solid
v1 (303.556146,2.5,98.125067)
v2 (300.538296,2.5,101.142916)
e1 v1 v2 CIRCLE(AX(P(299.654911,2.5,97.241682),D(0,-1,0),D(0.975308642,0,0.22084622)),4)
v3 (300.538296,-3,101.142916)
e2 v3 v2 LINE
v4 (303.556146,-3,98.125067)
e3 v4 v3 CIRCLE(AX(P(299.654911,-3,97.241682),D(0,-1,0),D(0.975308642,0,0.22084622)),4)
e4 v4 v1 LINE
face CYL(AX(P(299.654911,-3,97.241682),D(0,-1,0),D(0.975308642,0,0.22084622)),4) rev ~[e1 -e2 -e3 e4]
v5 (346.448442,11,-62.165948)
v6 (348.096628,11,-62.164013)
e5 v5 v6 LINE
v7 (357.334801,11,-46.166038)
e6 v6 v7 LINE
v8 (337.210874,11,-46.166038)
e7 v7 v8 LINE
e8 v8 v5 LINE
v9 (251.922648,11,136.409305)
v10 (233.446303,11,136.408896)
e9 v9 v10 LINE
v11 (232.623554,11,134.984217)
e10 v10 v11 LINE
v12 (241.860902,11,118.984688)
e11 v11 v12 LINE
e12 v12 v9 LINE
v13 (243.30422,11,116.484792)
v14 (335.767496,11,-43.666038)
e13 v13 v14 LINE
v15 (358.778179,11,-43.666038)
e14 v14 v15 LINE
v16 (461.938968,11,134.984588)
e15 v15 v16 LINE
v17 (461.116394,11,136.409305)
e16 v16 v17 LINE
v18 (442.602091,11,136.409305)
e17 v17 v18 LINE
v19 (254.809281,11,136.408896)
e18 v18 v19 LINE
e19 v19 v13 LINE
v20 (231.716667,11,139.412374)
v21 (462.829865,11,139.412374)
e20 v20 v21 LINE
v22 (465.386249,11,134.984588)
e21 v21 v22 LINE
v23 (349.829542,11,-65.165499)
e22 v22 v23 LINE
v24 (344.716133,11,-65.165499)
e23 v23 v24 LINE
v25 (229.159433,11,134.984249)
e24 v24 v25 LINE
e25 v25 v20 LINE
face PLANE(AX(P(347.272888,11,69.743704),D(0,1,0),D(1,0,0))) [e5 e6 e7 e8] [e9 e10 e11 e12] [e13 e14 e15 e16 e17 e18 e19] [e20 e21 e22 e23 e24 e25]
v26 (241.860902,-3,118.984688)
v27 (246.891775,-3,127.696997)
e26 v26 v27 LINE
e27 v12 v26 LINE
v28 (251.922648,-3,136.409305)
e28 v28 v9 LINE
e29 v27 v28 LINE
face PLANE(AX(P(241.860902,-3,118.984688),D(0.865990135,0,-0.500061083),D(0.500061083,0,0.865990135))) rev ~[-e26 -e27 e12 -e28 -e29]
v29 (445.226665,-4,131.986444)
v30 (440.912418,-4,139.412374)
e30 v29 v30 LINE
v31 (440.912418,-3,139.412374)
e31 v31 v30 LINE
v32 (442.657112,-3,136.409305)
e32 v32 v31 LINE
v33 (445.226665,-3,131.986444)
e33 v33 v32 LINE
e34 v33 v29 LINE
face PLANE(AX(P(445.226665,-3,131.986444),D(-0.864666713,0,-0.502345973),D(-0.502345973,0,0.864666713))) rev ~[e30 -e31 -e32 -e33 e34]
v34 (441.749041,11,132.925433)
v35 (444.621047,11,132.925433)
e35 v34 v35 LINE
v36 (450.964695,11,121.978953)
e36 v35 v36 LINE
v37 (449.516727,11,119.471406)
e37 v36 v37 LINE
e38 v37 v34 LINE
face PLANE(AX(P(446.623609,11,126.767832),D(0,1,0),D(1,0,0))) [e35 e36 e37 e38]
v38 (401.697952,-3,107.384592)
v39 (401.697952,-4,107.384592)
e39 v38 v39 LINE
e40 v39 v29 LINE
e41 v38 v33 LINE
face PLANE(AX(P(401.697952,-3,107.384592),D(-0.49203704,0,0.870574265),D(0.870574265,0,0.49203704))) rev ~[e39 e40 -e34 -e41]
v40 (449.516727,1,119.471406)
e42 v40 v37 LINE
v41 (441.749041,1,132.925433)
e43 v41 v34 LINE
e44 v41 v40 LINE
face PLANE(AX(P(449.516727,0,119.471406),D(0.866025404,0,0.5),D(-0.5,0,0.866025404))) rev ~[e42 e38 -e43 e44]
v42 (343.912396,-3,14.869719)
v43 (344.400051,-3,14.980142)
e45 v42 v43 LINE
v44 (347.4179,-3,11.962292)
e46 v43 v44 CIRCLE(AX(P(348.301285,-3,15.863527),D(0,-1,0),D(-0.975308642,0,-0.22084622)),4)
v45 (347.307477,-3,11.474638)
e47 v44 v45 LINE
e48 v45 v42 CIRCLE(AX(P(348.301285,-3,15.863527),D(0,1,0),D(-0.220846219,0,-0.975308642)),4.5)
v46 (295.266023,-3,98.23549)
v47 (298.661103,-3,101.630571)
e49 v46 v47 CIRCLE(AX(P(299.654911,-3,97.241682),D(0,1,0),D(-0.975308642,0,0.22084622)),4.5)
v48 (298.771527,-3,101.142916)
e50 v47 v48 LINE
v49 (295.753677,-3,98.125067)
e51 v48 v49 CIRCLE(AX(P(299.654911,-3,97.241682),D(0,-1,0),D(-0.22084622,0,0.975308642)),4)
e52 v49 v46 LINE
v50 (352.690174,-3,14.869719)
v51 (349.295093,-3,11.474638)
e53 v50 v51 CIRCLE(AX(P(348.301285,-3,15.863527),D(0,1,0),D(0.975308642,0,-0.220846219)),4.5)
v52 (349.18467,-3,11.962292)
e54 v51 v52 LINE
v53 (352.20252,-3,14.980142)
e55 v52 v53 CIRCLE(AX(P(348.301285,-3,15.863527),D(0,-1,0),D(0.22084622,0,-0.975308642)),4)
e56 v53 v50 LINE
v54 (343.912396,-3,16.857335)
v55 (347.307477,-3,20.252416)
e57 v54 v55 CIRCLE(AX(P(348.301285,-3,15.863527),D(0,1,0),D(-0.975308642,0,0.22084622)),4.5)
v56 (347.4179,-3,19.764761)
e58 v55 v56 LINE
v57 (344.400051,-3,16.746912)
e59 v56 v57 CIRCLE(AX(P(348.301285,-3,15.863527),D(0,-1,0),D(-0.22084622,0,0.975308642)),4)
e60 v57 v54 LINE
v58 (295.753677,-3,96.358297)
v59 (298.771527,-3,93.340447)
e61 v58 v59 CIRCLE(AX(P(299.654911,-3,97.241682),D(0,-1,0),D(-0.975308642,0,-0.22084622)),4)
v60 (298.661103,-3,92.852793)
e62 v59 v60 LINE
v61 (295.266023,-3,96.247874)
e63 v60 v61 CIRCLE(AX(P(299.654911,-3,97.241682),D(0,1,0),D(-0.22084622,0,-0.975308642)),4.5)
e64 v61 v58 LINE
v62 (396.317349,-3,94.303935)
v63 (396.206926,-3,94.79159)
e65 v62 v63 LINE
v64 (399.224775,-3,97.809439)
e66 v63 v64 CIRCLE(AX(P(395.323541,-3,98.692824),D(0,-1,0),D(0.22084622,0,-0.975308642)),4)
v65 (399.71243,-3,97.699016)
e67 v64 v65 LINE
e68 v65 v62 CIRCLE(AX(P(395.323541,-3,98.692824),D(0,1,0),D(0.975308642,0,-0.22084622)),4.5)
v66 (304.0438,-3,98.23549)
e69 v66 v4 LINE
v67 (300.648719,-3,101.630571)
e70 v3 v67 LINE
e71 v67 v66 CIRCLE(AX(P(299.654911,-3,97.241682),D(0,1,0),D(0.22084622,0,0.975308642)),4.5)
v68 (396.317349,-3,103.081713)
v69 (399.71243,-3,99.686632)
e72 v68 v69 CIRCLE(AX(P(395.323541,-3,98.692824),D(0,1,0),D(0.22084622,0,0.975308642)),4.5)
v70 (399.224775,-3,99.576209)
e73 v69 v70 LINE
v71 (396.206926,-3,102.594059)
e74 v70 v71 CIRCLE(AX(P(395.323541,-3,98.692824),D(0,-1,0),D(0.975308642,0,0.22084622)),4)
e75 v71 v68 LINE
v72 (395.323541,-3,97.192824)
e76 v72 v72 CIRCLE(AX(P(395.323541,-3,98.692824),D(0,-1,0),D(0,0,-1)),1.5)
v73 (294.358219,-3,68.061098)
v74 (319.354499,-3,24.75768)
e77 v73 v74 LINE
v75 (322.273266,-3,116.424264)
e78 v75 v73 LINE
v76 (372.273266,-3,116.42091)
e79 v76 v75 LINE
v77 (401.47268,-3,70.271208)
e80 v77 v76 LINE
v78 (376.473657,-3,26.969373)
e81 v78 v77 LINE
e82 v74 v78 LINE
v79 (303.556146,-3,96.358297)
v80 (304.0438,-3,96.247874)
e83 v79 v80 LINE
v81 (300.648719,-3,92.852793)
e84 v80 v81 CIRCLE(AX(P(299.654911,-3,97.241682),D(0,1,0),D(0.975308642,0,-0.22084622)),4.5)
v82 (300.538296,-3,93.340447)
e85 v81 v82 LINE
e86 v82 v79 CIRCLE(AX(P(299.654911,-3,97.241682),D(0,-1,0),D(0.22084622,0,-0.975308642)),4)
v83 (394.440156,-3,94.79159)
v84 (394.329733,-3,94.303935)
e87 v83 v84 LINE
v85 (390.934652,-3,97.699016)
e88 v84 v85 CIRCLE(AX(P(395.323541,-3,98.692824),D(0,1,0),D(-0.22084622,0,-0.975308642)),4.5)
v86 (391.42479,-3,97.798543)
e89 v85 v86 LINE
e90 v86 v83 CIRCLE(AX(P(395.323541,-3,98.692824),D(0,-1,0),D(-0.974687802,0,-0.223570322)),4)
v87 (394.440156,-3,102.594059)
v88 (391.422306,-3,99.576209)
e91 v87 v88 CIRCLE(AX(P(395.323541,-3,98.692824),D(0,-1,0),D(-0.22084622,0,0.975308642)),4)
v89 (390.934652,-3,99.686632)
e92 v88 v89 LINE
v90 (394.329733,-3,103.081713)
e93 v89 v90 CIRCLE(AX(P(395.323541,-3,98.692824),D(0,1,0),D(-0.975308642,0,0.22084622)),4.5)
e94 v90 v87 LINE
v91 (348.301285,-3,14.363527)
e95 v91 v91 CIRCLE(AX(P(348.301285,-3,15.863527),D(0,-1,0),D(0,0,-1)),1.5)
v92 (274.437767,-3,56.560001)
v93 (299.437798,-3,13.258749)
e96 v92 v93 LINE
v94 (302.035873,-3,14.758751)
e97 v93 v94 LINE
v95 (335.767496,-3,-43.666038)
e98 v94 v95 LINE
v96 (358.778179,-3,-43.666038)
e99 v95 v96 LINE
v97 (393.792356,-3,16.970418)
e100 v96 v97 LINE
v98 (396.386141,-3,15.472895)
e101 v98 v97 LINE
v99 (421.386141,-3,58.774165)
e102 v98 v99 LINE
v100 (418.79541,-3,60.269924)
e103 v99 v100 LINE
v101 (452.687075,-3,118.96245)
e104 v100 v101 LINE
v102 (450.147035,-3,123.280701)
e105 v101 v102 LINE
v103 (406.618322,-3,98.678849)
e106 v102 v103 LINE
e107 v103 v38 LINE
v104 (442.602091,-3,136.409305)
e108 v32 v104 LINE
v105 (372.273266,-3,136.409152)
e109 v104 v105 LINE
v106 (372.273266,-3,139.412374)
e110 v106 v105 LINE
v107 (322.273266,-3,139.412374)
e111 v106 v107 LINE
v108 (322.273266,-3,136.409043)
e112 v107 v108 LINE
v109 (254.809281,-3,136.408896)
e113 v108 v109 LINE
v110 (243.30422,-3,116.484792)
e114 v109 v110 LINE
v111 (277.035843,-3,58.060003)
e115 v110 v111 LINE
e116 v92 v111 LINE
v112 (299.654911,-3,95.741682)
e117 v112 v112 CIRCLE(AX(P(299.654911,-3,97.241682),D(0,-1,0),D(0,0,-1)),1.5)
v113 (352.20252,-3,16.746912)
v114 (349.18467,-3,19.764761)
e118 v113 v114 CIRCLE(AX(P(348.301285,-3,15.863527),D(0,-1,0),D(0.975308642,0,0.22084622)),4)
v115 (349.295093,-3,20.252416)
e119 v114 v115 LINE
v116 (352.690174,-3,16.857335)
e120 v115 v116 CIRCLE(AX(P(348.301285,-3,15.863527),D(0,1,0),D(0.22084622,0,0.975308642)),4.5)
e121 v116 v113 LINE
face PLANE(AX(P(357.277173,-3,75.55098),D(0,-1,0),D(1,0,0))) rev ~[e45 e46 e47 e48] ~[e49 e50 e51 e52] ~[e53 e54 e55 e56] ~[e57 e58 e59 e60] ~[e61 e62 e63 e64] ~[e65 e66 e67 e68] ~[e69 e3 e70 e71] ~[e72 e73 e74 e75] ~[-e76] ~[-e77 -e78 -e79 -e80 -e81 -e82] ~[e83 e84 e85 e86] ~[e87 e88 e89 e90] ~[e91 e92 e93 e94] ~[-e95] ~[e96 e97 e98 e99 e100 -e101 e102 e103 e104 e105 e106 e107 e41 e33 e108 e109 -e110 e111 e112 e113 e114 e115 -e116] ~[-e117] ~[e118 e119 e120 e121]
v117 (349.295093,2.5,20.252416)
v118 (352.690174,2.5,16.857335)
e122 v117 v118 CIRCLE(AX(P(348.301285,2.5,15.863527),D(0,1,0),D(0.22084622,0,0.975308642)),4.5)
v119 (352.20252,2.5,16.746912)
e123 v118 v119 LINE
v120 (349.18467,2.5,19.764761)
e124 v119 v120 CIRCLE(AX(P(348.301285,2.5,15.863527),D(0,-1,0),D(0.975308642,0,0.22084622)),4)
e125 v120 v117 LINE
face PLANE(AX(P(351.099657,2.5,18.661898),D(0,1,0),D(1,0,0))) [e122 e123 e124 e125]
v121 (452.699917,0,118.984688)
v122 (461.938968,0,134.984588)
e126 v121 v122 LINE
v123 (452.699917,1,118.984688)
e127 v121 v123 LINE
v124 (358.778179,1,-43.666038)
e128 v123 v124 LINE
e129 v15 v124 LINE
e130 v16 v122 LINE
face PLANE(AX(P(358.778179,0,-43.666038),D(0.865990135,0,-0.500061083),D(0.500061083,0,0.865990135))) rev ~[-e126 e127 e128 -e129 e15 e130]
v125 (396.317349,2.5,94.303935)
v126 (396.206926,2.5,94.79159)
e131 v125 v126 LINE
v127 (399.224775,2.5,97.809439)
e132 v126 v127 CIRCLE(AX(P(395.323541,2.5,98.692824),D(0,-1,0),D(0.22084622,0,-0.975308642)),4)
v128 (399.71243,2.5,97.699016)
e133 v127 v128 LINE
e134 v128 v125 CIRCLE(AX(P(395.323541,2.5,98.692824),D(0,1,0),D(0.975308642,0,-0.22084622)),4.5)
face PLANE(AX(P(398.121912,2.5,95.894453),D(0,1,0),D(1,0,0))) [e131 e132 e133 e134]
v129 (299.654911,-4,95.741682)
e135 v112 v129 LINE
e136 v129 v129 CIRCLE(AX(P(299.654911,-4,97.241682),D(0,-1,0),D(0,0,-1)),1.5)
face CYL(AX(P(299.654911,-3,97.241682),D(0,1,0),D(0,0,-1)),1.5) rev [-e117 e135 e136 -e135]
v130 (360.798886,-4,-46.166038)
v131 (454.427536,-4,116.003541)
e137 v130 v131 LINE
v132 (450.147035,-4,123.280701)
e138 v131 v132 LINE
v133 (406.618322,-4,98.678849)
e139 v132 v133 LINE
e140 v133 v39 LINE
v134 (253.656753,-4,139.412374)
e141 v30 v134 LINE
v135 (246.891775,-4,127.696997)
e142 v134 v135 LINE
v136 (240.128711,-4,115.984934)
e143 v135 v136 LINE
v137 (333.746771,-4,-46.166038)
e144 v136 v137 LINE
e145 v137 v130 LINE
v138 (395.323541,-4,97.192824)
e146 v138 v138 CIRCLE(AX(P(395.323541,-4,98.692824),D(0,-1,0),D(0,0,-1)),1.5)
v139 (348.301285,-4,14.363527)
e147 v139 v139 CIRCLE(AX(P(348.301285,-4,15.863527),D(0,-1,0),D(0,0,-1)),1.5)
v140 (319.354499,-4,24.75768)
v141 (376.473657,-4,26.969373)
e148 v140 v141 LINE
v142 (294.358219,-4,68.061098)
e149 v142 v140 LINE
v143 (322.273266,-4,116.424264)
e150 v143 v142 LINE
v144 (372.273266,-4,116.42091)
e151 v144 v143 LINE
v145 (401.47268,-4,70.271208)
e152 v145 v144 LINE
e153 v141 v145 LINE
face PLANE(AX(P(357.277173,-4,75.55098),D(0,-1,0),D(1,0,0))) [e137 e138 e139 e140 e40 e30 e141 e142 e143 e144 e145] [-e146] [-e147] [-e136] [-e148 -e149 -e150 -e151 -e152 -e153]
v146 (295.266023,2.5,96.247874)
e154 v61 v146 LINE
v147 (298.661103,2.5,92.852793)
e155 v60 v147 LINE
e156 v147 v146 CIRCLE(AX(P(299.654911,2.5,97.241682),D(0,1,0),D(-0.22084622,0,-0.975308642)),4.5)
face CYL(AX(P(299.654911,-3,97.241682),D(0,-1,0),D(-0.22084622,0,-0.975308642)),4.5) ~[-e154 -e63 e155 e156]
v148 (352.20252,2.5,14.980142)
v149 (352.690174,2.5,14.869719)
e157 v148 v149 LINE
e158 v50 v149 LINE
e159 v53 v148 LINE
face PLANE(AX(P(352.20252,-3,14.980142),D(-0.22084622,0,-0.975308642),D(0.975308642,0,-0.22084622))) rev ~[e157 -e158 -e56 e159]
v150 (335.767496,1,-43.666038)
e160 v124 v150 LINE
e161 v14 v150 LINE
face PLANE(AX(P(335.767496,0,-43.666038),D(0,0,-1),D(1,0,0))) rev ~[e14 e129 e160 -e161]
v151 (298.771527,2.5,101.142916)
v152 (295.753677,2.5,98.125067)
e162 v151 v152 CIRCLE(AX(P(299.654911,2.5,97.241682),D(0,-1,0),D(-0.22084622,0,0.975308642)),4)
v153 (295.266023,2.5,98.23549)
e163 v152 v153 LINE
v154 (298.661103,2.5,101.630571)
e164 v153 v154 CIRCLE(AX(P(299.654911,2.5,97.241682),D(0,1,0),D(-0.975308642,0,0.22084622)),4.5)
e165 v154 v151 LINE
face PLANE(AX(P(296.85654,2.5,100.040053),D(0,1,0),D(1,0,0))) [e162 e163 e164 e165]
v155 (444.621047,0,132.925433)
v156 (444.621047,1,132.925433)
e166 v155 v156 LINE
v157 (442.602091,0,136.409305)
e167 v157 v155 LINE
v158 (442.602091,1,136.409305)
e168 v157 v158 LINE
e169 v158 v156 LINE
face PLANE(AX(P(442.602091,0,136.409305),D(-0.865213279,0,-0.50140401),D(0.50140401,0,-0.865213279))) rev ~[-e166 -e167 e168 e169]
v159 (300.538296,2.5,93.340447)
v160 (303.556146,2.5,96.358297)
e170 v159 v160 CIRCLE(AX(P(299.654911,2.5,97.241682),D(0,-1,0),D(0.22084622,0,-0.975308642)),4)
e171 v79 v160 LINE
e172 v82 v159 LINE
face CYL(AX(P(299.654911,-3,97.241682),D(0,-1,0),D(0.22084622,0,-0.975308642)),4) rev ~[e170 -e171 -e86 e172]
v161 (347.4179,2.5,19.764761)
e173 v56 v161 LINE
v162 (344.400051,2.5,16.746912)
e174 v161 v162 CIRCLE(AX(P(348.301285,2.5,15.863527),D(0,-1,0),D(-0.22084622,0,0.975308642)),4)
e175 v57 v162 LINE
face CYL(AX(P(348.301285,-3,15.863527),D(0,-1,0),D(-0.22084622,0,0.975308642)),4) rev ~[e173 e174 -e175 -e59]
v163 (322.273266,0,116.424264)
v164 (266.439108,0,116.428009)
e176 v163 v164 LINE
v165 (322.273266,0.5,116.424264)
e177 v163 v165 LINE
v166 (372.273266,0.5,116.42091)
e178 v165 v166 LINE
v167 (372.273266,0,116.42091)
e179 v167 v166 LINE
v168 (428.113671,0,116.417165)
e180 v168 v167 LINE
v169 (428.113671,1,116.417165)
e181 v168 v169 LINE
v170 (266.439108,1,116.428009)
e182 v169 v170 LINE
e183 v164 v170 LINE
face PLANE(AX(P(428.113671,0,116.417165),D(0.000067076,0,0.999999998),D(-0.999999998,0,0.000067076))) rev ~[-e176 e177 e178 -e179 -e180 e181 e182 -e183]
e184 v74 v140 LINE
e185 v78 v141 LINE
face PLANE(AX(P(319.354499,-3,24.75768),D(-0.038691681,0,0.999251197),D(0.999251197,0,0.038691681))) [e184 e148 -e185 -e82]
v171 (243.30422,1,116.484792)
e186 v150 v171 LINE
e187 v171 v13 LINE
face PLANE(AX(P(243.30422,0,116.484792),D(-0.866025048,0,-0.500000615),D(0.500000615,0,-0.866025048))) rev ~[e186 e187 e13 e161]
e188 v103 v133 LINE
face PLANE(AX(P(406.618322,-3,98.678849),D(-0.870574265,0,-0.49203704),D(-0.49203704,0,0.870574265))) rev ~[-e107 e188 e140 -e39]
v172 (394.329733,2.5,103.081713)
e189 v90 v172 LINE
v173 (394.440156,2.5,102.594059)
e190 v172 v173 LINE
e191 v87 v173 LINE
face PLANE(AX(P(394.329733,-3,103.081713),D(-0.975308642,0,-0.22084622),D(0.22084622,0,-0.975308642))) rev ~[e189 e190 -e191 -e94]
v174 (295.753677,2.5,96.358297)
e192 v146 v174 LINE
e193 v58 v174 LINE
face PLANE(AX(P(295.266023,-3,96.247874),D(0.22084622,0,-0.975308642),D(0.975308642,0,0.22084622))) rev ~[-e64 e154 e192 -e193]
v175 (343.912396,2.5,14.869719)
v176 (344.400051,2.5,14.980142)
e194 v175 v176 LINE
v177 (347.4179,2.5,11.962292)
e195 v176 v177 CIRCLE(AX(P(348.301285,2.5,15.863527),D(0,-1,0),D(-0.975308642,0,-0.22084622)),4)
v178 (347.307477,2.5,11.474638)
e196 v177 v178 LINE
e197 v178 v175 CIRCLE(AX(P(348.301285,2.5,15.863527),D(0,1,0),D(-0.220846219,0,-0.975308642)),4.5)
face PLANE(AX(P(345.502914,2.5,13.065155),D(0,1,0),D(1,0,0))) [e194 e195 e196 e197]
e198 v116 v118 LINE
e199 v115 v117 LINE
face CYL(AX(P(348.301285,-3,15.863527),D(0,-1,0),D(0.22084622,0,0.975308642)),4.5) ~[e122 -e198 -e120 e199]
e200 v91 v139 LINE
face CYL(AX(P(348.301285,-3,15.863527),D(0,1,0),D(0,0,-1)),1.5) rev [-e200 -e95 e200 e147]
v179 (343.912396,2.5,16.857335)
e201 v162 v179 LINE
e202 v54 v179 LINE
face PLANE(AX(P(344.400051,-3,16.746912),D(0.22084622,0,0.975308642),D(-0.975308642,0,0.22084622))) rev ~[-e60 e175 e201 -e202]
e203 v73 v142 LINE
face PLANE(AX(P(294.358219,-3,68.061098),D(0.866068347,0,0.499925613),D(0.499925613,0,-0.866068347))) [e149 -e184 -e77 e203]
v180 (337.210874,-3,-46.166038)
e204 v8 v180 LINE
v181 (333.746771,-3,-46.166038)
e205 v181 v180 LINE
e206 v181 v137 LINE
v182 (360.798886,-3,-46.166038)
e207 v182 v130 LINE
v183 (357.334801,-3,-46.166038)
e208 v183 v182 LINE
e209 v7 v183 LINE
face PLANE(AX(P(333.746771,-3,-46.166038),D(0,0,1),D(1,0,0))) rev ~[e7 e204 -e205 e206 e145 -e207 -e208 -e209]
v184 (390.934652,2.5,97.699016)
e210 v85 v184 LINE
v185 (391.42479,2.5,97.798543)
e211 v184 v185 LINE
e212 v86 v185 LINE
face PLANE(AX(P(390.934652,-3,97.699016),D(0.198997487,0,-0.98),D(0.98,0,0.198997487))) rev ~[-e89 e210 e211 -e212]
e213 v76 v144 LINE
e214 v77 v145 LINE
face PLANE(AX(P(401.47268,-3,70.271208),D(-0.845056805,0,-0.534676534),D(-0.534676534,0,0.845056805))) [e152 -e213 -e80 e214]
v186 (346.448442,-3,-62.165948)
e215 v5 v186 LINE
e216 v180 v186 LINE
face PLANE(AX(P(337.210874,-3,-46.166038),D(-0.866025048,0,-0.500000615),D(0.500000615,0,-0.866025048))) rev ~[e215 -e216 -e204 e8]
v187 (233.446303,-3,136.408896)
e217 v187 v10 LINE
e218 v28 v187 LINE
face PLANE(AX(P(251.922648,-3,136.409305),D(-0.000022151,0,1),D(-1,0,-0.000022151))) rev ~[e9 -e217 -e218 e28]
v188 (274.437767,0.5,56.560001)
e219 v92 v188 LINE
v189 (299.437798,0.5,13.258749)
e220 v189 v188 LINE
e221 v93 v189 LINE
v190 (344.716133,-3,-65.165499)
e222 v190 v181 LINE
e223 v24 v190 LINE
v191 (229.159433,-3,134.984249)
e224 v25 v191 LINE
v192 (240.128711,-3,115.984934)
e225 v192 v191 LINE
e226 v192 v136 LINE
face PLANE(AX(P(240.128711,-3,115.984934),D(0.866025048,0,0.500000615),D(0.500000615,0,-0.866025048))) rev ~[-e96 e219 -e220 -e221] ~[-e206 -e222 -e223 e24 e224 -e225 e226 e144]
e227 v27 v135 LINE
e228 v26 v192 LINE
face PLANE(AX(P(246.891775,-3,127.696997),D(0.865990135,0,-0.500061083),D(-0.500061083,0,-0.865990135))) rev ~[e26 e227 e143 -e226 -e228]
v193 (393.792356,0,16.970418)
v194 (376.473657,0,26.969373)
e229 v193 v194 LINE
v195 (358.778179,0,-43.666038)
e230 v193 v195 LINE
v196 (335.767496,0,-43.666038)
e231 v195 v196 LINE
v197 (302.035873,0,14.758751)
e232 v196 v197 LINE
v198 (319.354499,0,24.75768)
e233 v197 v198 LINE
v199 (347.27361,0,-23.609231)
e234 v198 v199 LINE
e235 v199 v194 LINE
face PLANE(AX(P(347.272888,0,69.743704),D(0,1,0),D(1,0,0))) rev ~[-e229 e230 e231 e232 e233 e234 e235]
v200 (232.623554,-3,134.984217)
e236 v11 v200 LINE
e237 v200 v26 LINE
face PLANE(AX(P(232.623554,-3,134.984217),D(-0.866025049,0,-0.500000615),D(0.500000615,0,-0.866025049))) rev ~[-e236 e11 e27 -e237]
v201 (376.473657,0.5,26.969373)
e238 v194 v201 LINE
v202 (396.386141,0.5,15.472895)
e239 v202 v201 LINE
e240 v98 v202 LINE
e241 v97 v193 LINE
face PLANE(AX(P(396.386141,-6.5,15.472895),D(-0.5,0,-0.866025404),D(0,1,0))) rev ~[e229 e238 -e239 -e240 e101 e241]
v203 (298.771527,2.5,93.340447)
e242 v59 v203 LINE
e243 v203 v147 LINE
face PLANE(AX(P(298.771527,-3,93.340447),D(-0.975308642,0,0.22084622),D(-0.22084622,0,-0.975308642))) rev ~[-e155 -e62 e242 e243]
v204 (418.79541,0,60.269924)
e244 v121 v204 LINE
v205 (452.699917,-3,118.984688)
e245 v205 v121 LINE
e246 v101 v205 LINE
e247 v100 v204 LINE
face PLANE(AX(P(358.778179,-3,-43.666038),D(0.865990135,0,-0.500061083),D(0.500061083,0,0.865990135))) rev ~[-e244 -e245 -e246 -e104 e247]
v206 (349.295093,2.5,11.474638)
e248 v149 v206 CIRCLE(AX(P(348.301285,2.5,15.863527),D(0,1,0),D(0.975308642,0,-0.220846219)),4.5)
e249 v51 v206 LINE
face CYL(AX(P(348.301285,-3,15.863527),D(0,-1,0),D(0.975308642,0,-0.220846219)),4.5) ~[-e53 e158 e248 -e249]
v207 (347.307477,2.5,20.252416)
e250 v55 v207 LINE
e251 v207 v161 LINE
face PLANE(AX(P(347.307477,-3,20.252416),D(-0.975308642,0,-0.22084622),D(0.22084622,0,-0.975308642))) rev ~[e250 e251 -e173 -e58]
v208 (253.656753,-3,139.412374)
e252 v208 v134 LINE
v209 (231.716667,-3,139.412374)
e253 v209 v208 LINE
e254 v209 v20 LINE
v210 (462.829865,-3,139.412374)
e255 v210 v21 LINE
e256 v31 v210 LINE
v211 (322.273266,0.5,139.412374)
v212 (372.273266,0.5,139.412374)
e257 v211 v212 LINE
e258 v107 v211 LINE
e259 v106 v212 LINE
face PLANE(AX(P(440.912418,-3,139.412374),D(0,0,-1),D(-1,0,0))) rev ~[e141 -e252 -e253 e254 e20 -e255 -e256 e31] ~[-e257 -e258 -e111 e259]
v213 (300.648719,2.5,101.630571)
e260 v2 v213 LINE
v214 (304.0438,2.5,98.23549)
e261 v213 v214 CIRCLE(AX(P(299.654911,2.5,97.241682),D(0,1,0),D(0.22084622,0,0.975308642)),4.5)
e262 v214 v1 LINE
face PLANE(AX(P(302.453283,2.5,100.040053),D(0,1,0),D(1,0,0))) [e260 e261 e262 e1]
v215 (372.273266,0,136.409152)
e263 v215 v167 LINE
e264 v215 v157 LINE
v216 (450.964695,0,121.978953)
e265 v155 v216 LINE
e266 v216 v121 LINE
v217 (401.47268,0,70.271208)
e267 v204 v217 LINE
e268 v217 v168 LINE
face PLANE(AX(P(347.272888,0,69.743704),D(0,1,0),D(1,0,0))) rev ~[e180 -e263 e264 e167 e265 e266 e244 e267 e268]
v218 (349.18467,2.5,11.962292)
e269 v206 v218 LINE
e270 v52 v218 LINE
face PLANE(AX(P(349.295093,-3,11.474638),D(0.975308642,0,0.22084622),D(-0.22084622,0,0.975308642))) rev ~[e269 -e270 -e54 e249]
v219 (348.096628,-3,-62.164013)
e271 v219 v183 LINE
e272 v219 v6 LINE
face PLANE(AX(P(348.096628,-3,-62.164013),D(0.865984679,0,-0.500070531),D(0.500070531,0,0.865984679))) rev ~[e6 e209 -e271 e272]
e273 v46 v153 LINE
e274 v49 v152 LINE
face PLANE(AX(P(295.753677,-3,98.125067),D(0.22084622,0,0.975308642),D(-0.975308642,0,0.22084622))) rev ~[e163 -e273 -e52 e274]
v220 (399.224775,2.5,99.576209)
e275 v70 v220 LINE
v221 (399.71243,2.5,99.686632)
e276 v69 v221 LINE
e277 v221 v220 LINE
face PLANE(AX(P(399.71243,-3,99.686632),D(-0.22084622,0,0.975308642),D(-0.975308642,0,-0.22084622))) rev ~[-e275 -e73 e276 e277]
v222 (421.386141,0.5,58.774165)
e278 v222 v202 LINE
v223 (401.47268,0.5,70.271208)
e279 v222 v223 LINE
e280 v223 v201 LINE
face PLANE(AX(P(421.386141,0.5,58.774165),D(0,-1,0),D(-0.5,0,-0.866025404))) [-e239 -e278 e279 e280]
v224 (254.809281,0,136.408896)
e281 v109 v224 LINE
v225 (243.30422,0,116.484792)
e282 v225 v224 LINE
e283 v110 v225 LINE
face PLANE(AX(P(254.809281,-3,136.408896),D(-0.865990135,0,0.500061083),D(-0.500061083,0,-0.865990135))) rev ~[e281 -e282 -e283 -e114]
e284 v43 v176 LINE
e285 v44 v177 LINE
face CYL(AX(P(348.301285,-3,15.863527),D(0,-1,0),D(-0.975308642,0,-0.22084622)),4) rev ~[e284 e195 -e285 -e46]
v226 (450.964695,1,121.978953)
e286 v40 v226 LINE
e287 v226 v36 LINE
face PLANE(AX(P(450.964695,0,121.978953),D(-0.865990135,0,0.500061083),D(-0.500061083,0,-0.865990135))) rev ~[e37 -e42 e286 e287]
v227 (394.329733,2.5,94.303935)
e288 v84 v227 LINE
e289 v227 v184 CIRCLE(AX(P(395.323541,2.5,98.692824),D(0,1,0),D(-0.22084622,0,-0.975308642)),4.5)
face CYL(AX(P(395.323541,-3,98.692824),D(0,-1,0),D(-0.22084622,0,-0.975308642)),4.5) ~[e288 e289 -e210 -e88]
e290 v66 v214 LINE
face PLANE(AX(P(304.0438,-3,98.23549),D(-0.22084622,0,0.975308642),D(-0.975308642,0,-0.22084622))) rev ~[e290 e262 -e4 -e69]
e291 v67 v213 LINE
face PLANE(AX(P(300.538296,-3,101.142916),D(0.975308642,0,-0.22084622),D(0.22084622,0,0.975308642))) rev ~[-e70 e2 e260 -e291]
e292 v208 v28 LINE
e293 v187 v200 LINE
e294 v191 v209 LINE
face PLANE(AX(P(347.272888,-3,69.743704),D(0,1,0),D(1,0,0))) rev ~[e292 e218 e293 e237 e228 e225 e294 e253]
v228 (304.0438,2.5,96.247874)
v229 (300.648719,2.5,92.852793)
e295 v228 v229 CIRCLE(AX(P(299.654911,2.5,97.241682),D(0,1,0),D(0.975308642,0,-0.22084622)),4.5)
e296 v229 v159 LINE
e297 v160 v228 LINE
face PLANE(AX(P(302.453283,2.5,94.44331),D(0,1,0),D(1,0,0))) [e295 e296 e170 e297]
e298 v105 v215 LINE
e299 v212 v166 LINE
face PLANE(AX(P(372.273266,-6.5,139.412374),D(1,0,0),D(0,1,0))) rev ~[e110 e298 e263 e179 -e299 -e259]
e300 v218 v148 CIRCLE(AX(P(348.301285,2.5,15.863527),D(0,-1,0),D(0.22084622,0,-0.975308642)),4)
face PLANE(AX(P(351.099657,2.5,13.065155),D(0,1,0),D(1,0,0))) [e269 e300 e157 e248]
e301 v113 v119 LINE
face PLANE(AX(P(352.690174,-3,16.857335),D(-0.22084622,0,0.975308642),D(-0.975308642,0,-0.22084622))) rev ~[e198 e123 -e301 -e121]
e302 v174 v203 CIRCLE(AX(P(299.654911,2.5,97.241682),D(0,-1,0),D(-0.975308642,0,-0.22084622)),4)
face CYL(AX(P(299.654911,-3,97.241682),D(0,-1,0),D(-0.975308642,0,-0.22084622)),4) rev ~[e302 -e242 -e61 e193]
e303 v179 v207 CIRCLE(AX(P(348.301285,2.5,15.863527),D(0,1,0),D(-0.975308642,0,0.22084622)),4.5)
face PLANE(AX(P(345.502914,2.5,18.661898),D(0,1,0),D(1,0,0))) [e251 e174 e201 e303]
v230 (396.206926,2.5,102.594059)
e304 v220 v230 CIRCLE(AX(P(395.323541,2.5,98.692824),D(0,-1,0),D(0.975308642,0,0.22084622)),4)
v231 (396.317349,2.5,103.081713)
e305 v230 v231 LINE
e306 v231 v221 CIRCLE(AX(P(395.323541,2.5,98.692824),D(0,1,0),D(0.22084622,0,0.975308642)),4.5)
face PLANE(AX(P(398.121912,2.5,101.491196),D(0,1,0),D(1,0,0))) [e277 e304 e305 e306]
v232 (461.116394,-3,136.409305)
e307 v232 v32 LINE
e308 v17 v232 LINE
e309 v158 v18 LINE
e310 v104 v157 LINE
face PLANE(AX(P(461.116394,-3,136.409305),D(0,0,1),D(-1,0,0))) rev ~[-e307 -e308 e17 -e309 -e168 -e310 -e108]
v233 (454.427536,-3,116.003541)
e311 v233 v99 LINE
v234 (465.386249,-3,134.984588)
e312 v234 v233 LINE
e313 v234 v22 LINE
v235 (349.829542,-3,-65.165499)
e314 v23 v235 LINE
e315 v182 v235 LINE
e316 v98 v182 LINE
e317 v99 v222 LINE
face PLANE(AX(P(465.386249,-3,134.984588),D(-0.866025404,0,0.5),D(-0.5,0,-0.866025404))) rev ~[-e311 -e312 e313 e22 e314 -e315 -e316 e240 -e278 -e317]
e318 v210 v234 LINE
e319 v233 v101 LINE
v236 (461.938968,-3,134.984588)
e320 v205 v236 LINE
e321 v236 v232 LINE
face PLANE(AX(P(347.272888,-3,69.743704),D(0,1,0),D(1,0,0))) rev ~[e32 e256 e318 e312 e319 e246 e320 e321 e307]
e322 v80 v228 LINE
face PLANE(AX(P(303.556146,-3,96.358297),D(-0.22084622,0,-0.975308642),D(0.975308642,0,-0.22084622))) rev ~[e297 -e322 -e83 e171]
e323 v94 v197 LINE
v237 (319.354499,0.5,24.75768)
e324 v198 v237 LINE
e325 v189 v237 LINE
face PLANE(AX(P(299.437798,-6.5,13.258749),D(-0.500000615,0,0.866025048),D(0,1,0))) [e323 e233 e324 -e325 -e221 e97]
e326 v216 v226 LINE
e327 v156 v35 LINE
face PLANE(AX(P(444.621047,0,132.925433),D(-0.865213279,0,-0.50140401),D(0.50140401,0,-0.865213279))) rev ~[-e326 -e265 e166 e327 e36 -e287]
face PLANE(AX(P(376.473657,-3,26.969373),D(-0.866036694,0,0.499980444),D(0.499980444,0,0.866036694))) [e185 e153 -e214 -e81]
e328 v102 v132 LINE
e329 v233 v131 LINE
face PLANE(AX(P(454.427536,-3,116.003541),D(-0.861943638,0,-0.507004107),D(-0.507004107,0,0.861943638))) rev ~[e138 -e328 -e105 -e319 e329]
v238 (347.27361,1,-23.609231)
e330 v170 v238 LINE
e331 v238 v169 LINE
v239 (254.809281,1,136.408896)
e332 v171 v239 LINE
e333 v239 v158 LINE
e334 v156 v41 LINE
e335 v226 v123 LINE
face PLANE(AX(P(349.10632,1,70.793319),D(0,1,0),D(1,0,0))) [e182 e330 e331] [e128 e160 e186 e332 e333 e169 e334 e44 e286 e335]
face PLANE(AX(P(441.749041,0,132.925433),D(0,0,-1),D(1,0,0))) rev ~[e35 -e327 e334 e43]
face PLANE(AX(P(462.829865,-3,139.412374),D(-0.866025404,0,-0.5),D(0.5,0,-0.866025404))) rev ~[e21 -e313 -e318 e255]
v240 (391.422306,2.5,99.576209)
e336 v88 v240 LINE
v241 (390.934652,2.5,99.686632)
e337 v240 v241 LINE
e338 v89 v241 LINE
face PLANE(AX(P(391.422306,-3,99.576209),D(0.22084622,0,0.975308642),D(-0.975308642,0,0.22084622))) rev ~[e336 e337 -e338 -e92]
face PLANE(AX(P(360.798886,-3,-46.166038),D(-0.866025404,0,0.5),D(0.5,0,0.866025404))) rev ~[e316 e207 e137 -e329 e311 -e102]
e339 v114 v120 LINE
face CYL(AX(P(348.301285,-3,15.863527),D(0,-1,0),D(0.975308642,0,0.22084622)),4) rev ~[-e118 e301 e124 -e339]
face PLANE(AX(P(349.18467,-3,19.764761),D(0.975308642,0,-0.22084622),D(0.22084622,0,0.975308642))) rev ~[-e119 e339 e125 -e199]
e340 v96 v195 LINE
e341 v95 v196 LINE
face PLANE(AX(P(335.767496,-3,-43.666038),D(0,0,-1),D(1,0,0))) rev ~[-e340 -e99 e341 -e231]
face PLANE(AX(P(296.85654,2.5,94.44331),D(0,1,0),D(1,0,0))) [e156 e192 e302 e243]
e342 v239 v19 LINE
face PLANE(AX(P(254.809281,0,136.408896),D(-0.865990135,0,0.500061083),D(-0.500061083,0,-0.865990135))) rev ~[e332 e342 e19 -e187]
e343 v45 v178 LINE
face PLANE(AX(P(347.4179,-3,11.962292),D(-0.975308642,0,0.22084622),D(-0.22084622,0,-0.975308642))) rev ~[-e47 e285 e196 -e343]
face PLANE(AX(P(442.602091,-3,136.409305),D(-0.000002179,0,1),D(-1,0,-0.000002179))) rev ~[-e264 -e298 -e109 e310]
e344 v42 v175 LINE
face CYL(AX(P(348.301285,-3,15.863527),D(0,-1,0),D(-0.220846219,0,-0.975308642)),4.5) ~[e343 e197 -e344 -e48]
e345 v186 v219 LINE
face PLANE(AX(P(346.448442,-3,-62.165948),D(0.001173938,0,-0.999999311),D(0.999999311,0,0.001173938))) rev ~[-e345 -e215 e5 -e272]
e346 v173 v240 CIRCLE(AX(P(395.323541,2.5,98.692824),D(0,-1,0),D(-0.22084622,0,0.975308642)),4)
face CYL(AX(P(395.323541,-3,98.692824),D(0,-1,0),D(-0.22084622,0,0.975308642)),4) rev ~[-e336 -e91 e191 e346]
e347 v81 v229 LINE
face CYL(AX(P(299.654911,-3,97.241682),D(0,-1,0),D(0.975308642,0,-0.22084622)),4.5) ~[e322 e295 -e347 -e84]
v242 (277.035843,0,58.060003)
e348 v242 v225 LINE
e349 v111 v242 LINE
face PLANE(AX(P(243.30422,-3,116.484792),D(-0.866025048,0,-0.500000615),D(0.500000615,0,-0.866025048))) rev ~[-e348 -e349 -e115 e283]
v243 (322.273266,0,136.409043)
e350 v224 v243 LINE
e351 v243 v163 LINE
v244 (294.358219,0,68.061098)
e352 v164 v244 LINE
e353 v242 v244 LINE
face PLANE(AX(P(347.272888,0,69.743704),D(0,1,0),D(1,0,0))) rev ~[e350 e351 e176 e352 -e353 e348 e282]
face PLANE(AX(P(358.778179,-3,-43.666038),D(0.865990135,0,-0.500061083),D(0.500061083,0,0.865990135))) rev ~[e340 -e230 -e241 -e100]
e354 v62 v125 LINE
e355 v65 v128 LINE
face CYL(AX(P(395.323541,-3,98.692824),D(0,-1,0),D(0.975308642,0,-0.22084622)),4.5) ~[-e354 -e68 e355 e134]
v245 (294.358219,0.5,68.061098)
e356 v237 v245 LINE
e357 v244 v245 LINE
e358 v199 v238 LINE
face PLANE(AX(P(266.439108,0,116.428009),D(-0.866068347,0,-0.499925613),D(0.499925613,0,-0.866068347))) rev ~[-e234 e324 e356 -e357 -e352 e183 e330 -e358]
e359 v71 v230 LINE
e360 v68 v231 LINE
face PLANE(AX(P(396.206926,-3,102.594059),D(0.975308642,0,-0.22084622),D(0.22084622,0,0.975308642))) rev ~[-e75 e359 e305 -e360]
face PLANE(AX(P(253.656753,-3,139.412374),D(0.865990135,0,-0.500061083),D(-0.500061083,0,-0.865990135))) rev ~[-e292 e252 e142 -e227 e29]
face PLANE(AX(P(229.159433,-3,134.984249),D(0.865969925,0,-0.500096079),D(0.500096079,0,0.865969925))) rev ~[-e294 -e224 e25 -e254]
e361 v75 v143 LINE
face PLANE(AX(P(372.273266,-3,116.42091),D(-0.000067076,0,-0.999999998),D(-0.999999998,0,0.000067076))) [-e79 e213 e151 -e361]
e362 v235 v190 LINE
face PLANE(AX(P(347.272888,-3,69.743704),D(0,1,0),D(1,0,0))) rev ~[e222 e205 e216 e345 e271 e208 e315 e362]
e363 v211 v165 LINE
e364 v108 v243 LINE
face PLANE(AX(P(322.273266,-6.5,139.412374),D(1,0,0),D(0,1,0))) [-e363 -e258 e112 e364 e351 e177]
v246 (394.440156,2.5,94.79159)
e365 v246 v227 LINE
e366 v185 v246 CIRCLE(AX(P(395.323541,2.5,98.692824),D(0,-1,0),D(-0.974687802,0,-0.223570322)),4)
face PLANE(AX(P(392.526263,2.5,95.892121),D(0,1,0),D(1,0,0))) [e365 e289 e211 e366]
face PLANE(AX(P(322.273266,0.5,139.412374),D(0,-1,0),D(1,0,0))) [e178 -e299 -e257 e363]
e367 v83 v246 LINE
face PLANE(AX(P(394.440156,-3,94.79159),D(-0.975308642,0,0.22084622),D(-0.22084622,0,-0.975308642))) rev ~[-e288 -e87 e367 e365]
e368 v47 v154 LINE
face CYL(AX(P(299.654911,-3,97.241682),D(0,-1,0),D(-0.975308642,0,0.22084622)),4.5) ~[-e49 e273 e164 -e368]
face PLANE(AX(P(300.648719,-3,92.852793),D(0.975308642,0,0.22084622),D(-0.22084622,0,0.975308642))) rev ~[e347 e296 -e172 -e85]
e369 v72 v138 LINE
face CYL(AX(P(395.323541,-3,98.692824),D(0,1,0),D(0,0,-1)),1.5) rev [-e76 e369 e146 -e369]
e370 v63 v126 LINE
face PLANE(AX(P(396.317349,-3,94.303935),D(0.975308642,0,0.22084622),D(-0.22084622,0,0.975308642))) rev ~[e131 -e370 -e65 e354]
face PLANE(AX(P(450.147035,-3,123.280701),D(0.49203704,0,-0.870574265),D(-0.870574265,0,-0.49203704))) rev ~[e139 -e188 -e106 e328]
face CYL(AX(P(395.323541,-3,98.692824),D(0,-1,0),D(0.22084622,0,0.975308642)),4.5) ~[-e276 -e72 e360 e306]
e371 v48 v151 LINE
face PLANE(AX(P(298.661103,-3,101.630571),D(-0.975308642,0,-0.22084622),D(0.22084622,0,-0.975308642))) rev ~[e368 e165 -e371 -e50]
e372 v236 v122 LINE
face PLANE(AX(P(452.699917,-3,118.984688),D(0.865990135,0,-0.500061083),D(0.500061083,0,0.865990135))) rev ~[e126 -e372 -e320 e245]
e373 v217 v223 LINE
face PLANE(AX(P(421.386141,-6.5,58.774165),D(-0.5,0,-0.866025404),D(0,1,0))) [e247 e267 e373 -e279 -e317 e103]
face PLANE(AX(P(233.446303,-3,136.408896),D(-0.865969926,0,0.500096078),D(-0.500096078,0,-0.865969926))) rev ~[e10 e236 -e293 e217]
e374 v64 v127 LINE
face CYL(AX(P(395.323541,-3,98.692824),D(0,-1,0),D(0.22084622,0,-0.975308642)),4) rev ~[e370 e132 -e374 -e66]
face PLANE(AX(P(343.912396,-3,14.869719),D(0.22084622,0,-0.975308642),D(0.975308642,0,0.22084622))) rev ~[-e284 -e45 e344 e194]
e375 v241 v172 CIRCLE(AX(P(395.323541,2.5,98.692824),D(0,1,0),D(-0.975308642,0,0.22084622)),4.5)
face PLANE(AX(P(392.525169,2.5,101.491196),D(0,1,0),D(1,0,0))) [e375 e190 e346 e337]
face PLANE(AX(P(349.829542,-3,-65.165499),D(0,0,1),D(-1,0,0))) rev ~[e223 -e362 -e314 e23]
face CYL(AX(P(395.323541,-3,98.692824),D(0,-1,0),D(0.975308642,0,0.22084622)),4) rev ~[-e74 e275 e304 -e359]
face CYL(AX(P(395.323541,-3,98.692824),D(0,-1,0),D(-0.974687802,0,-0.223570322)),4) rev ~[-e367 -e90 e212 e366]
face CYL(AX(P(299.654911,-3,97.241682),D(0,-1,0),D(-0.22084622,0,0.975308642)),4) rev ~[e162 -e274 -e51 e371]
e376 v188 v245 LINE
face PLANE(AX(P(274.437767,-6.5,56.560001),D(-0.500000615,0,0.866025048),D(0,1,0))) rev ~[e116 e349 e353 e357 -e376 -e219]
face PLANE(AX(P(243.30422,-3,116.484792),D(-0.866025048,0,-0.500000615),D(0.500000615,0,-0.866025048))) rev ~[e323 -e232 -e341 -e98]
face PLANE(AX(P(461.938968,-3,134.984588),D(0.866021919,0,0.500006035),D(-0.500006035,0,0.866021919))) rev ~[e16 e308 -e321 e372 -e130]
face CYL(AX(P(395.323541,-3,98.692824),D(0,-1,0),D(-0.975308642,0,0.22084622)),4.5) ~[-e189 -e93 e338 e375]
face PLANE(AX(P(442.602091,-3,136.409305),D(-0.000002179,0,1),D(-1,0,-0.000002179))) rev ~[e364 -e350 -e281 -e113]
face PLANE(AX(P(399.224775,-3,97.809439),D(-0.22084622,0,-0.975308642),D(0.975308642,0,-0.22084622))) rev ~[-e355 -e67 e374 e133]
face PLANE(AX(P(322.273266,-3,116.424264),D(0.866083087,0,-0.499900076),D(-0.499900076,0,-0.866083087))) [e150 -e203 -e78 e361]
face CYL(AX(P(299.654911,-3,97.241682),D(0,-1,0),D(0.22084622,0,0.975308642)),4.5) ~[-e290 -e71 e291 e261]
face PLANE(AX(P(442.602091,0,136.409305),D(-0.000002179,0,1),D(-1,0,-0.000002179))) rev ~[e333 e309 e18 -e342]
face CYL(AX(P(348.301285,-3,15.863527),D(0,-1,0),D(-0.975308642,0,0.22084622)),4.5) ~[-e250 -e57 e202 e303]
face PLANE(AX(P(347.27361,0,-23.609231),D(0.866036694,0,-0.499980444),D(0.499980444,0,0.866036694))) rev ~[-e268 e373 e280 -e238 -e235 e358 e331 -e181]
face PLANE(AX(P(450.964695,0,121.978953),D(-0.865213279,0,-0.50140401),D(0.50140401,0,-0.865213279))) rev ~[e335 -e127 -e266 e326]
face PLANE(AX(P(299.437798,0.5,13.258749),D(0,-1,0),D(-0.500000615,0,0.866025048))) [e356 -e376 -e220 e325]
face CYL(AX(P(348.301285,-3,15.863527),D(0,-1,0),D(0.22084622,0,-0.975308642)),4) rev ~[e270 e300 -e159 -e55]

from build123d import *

# Parameters (mm, degrees)
BOSS_EXTRUDE1_DEPTH      = 1
BOSS_EXTRUDE2_DEPTH      = 11
BOSS_EXTRUDE3_DEPTH      = 5
BOSS_EXTRUDE3_DEPTH_BACK = 3
SKETCH3_W                = 50
SKETCH3_H                = 7
CUT_EXTRUDE3_DEPTH       = 25
SKETCH5_W                = 50
SKETCH5_H                = 7
CUT_EXTRUDE4_DEPTH       = 25
SKETCH6_W                = 50
SKETCH6_H                = 7
CUT_EXTRUDE5_DEPTH       = 25
SKETCH8_R                = 1.5
BOSS_EXTRUDE5_DEPTH      = 1
BOSS_EXTRUDE10_DEPTH     = 5.5


with BuildPart() as part:
    # Sketch1 → Boss-Extrude1 (new body)
    with BuildSketch(Plane(origin=(0, 0, 0), x_dir=(1, 0, 0), z_dir=(0, 1, 0))):
        Polygon((243.304219773, -116.484791866), (254.809280576, -136.408896139), (442.602090749, -136.409305398), (444.621046679, -132.925433223), (441.749040748, -132.925433223), (449.516726723, -119.471406457), (450.964695297, -121.978953122), (452.699916621, -118.984688017), (358.778179035, 43.666038066), (335.767496284, 43.666038066), align=None)
        Polygon((428.113670919, -116.417164681), (266.439108268, -116.428009241), (347.273609729, 23.609230825), align=None, mode=Mode.SUBTRACT)
    extrude(amount=BOSS_EXTRUDE1_DEPTH)

    # Sketch1<9> → Boss-Extrude2 (add)
    # profile 1 of 2: a face of its own
    with BuildSketch(Plane(origin=(0, 0, 0), x_dir=(1, 0, 0), z_dir=(0, 1, 0))):
        Polygon((229.159432547, -134.984249184), (231.716666588, -139.412373829), (462.829865412, -139.412373829), (465.38624875, -134.984588004), (349.829542096, 65.165499075), (344.716133219, 65.165499075), align=None)
        Polygon((251.922647988, -136.4093054), (233.446303399, -136.408896139), (232.623553959, -134.984217358), (241.860901688, -118.984688019), align=None, mode=Mode.SUBTRACT)
        Polygon((442.602090749, -136.409305398), (254.809280576, -136.408896139), (243.304219773, -116.484791866), (335.767496284, 43.666038066), (358.778179035, 43.666038066), (461.938967957, -134.984588004), (461.116393748, -136.409305398), align=None, mode=Mode.SUBTRACT)
        Polygon((348.096628302, 62.164013367), (357.334800991, 46.166038067), (337.210874326, 46.166038067), (346.44844193, 62.165948237), align=None, mode=Mode.SUBTRACT)
    # profile 2 of 2: a face of its own
    with BuildSketch(Plane(origin=(0, 0, 0), x_dir=(1, 0, 0), z_dir=(0, 1, 0))):
        Polygon((441.749040748, -132.925433223), (444.621046679, -132.925433223), (450.964695297, -121.978953122), (449.516726723, -119.471406457), align=None)
    extrude(amount=BOSS_EXTRUDE2_DEPTH)

    # Sketch1<10> → Boss-Extrude3 (add, two sides: drawn at the far end of the back side and taken through both)
    with BuildSketch(Plane(origin=(0, 0, 0), x_dir=(1, 0, 0), z_dir=(0, 1, 0)).offset(-BOSS_EXTRUDE3_DEPTH_BACK)):
        Polygon((229.159432547, -134.984249184), (231.716666588, -139.412373829), (462.829865412, -139.412373829), (465.38624875, -134.984588004), (349.829542096, 65.165499075), (344.716133219, 65.165499075), align=None)
        Polygon((251.922647988, -136.4093054), (233.446303399, -136.408896139), (232.623553959, -134.984217358), (241.860901688, -118.984688019), align=None, mode=Mode.SUBTRACT)
        Polygon((442.602090749, -136.409305398), (254.809280576, -136.408896139), (243.304219773, -116.484791866), (335.767496284, 43.666038066), (358.778179035, 43.666038066), (452.699916621, -118.984688017), (461.938967957, -134.984588004), (461.116393748, -136.409305398), align=None, mode=Mode.SUBTRACT)
        Polygon((348.096628302, 62.164013367), (357.334800991, 46.166038067), (337.210874326, 46.166038067), (346.44844193, 62.165948237), align=None, mode=Mode.SUBTRACT)
    extrude(amount=BOSS_EXTRUDE3_DEPTH + BOSS_EXTRUDE3_DEPTH_BACK)

    # Sketch3 → Cut-Extrude3 (cut)
    with BuildSketch(Plane(origin=(290.589645397, 0, -167.772009994), x_dir=(-0.49999999999998745, 0, -0.8660254037844459), z_dir=(0.8660254037844459, 0, -0.49999999999998745))):
        with Locations((-236.592990632, -3)):
            Rectangle(SKETCH3_W, SKETCH3_H)
    extrude(amount=-CUT_EXTRUDE3_DEPTH, mode=Mode.SUBTRACT)

    # Sketch5 → Cut-Extrude4 (cut)
    with BuildSketch(Plane.XY.offset(139.412373829)):
        with Locations((347.273266, -3)):
            Rectangle(SKETCH5_W, SKETCH5_H)
    extrude(amount=-CUT_EXTRUDE4_DEPTH, mode=Mode.SUBTRACT)

    # Sketch6 → Cut-Extrude5 (cut)
    with BuildSketch(Plane(origin=(230.319375797, 0, 132.975171838), x_dir=(-0.5000006154012504, 0, 0.8660250484820695), z_dir=(-0.8660250484820695, 0, -0.5000006154012504))):
        with Locations((-113.2366748, -3)):
            Rectangle(SKETCH6_W, SKETCH6_H)
    extrude(amount=-CUT_EXTRUDE5_DEPTH, mode=Mode.SUBTRACT)

    # Sketch8 → Boss-Extrude5 (add)
    with BuildSketch(Plane.XZ.offset(3)):
        Polygon((246.891774838, 127.696996709), (240.128710529, 115.984933576), (333.74677129, -46.166038067), (360.798886024, -46.166038067), (454.427535986, 116.00354071), (450.14703547, 123.280701064), (406.618322212, 98.678849058), (401.697951811, 107.384591709), (445.226665069, 131.986443715), (440.912417704, 139.412373829), (253.656752788, 139.412373829), align=None)
        with Locations((395.323540807, 98.692824234)):
            Circle(SKETCH8_R, mode=Mode.SUBTRACT)
        with Locations((348.301285092, 15.863526629)):
            Circle(SKETCH8_R, mode=Mode.SUBTRACT)
        with Locations((299.654911442, 97.241681781)):
            Circle(SKETCH8_R, mode=Mode.SUBTRACT)
        Polygon((322.273266, 116.424264082), (294.358218631, 68.061097964), (319.354499366, 24.757680453), (376.473657317, 26.969372805), (401.47267951, 70.271207531), (372.273266, 116.420910258), align=None, mode=Mode.SUBTRACT)
    extrude(amount=BOSS_EXTRUDE5_DEPTH)

    # Sketch12 → Boss-Extrude10 (add)
    with BuildSketch(Plane(origin=(0, -3, 0), x_dir=(1, 0, 0), z_dir=(0, 1, 0))):
        with BuildLine():
            ThreePointArc((352.69017398, -14.869718639), (351.483265607, -12.681546113), (349.295093082, -11.47463774))
            Line((349.295093082, -11.47463774), (349.184669972, -11.962292061))
            ThreePointArc((349.184669972, -11.962292061), (351.129712216, -13.035099504), (352.202519659, -14.980141749))
            Line((352.202519659, -14.980141749), (352.69017398, -14.869718639))
        make_face()
        with BuildLine():
            Line((347.417900212, -11.962292061), (347.307477102, -11.47463774))
            ThreePointArc((347.307477102, -11.47463774), (345.119304576, -12.681546113), (343.912396203, -14.869718639))
            Line((343.912396203, -14.869718639), (344.400050524, -14.980141749))
            ThreePointArc((344.400050524, -14.980141749), (345.472857967, -13.035099504), (347.417900212, -11.962292061))
        make_face()
        with BuildLine():
            ThreePointArc((349.295093082, -20.252415518), (351.483265607, -19.045507144), (352.69017398, -16.857334619))
            Line((352.69017398, -16.857334619), (352.202519659, -16.746911509))
            ThreePointArc((352.202519659, -16.746911509), (351.129712216, -18.691953754), (349.184669972, -19.764761197))
            Line((349.184669972, -19.764761197), (349.295093082, -20.252415518))
        make_face()
        with BuildLine():
            Line((344.400050524, -16.746911509), (343.912396203, -16.857334619))
            ThreePointArc((343.912396203, -16.857334619), (345.119304576, -19.045507144), (347.307477102, -20.252415518))
            Line((347.307477102, -20.252415518), (347.417900212, -19.764761197))
            ThreePointArc((347.417900212, -19.764761197), (345.472857967, -18.691953754), (344.400050524, -16.746911509))
        make_face()
        with BuildLine():
            Line((394.440155927, -94.791589666), (394.329732817, -94.303935345))
            ThreePointArc((394.329732817, -94.303935345), (392.141560292, -95.510843719), (390.934651919, -97.699016244))
            Line((390.934651919, -97.699016244), (391.4247896, -97.798542945))
            ThreePointArc((391.4247896, -97.798542945), (392.499067689, -95.860448622), (394.440155927, -94.791589666))
        make_face()
        with BuildLine():
            ThreePointArc((399.712429696, -97.699016244), (398.505521323, -95.510843719), (396.317348797, -94.303935345))
            Line((396.317348797, -94.303935345), (396.206925687, -94.791589666))
            ThreePointArc((396.206925687, -94.791589666), (398.151967932, -95.864397109), (399.224775375, -97.809439354))
            Line((399.224775375, -97.809439354), (399.712429696, -97.699016244))
        make_face()
        with BuildLine():
            Line((391.422306239, -99.576209114), (390.934651919, -99.686632224))
            ThreePointArc((390.934651919, -99.686632224), (392.141560292, -101.874804749), (394.329732817, -103.081713123))
            Line((394.329732817, -103.081713123), (394.440155927, -102.594058802))
            ThreePointArc((394.440155927, -102.594058802), (392.495113683, -101.521251359), (391.422306239, -99.576209114))
        make_face()
        with BuildLine():
            ThreePointArc((396.317348797, -103.081713123), (398.505521323, -101.874804749), (399.712429696, -99.686632224))
            Line((399.712429696, -99.686632224), (399.224775375, -99.576209114))
            ThreePointArc((399.224775375, -99.576209114), (398.151967932, -101.521251359), (396.206925687, -102.594058802))
            Line((396.206925687, -102.594058802), (396.317348797, -103.081713123))
        make_face()
        with BuildLine():
            ThreePointArc((298.661103452, -92.852792892), (296.472930927, -94.059701266), (295.266022553, -96.247873791))
            Line((295.266022553, -96.247873791), (295.753676874, -96.358296901))
            ThreePointArc((295.753676874, -96.358296901), (296.826484317, -94.413254657), (298.771526562, -93.340447213))
            Line((298.771526562, -93.340447213), (298.661103452, -92.852792892))
        make_face()
        with BuildLine():
            Line((295.753676874, -98.125066661), (295.266022553, -98.235489771))
            ThreePointArc((295.266022553, -98.235489771), (296.472930927, -100.423662297), (298.661103452, -101.63057067))
            Line((298.661103452, -101.63057067), (298.771526562, -101.142916349))
            ThreePointArc((298.771526562, -101.142916349), (296.826484317, -100.070108906), (295.753676874, -98.125066661))
        make_face()
        with BuildLine():
            ThreePointArc((304.043800331, -96.247873791), (302.836891957, -94.059701266), (300.648719432, -92.852792892))
            Line((300.648719432, -92.852792892), (300.538296322, -93.340447213))
            ThreePointArc((300.538296322, -93.340447213), (302.483338567, -94.413254657), (303.55614601, -96.358296901))
            Line((303.55614601, -96.358296901), (304.043800331, -96.247873791))
        make_face()
        with BuildLine():
            Line((300.538296322, -101.142916349), (300.648719432, -101.63057067))
            ThreePointArc((300.648719432, -101.63057067), (302.836891957, -100.423662297), (304.043800331, -98.235489771))
            Line((304.043800331, -98.235489771), (303.55614601, -98.125066661))
            ThreePointArc((303.55614601, -98.125066661), (302.483338567, -100.070108906), (300.538296322, -101.142916349))
        make_face()
    extrude(amount=BOSS_EXTRUDE10_DEPTH)


solid = part.part
